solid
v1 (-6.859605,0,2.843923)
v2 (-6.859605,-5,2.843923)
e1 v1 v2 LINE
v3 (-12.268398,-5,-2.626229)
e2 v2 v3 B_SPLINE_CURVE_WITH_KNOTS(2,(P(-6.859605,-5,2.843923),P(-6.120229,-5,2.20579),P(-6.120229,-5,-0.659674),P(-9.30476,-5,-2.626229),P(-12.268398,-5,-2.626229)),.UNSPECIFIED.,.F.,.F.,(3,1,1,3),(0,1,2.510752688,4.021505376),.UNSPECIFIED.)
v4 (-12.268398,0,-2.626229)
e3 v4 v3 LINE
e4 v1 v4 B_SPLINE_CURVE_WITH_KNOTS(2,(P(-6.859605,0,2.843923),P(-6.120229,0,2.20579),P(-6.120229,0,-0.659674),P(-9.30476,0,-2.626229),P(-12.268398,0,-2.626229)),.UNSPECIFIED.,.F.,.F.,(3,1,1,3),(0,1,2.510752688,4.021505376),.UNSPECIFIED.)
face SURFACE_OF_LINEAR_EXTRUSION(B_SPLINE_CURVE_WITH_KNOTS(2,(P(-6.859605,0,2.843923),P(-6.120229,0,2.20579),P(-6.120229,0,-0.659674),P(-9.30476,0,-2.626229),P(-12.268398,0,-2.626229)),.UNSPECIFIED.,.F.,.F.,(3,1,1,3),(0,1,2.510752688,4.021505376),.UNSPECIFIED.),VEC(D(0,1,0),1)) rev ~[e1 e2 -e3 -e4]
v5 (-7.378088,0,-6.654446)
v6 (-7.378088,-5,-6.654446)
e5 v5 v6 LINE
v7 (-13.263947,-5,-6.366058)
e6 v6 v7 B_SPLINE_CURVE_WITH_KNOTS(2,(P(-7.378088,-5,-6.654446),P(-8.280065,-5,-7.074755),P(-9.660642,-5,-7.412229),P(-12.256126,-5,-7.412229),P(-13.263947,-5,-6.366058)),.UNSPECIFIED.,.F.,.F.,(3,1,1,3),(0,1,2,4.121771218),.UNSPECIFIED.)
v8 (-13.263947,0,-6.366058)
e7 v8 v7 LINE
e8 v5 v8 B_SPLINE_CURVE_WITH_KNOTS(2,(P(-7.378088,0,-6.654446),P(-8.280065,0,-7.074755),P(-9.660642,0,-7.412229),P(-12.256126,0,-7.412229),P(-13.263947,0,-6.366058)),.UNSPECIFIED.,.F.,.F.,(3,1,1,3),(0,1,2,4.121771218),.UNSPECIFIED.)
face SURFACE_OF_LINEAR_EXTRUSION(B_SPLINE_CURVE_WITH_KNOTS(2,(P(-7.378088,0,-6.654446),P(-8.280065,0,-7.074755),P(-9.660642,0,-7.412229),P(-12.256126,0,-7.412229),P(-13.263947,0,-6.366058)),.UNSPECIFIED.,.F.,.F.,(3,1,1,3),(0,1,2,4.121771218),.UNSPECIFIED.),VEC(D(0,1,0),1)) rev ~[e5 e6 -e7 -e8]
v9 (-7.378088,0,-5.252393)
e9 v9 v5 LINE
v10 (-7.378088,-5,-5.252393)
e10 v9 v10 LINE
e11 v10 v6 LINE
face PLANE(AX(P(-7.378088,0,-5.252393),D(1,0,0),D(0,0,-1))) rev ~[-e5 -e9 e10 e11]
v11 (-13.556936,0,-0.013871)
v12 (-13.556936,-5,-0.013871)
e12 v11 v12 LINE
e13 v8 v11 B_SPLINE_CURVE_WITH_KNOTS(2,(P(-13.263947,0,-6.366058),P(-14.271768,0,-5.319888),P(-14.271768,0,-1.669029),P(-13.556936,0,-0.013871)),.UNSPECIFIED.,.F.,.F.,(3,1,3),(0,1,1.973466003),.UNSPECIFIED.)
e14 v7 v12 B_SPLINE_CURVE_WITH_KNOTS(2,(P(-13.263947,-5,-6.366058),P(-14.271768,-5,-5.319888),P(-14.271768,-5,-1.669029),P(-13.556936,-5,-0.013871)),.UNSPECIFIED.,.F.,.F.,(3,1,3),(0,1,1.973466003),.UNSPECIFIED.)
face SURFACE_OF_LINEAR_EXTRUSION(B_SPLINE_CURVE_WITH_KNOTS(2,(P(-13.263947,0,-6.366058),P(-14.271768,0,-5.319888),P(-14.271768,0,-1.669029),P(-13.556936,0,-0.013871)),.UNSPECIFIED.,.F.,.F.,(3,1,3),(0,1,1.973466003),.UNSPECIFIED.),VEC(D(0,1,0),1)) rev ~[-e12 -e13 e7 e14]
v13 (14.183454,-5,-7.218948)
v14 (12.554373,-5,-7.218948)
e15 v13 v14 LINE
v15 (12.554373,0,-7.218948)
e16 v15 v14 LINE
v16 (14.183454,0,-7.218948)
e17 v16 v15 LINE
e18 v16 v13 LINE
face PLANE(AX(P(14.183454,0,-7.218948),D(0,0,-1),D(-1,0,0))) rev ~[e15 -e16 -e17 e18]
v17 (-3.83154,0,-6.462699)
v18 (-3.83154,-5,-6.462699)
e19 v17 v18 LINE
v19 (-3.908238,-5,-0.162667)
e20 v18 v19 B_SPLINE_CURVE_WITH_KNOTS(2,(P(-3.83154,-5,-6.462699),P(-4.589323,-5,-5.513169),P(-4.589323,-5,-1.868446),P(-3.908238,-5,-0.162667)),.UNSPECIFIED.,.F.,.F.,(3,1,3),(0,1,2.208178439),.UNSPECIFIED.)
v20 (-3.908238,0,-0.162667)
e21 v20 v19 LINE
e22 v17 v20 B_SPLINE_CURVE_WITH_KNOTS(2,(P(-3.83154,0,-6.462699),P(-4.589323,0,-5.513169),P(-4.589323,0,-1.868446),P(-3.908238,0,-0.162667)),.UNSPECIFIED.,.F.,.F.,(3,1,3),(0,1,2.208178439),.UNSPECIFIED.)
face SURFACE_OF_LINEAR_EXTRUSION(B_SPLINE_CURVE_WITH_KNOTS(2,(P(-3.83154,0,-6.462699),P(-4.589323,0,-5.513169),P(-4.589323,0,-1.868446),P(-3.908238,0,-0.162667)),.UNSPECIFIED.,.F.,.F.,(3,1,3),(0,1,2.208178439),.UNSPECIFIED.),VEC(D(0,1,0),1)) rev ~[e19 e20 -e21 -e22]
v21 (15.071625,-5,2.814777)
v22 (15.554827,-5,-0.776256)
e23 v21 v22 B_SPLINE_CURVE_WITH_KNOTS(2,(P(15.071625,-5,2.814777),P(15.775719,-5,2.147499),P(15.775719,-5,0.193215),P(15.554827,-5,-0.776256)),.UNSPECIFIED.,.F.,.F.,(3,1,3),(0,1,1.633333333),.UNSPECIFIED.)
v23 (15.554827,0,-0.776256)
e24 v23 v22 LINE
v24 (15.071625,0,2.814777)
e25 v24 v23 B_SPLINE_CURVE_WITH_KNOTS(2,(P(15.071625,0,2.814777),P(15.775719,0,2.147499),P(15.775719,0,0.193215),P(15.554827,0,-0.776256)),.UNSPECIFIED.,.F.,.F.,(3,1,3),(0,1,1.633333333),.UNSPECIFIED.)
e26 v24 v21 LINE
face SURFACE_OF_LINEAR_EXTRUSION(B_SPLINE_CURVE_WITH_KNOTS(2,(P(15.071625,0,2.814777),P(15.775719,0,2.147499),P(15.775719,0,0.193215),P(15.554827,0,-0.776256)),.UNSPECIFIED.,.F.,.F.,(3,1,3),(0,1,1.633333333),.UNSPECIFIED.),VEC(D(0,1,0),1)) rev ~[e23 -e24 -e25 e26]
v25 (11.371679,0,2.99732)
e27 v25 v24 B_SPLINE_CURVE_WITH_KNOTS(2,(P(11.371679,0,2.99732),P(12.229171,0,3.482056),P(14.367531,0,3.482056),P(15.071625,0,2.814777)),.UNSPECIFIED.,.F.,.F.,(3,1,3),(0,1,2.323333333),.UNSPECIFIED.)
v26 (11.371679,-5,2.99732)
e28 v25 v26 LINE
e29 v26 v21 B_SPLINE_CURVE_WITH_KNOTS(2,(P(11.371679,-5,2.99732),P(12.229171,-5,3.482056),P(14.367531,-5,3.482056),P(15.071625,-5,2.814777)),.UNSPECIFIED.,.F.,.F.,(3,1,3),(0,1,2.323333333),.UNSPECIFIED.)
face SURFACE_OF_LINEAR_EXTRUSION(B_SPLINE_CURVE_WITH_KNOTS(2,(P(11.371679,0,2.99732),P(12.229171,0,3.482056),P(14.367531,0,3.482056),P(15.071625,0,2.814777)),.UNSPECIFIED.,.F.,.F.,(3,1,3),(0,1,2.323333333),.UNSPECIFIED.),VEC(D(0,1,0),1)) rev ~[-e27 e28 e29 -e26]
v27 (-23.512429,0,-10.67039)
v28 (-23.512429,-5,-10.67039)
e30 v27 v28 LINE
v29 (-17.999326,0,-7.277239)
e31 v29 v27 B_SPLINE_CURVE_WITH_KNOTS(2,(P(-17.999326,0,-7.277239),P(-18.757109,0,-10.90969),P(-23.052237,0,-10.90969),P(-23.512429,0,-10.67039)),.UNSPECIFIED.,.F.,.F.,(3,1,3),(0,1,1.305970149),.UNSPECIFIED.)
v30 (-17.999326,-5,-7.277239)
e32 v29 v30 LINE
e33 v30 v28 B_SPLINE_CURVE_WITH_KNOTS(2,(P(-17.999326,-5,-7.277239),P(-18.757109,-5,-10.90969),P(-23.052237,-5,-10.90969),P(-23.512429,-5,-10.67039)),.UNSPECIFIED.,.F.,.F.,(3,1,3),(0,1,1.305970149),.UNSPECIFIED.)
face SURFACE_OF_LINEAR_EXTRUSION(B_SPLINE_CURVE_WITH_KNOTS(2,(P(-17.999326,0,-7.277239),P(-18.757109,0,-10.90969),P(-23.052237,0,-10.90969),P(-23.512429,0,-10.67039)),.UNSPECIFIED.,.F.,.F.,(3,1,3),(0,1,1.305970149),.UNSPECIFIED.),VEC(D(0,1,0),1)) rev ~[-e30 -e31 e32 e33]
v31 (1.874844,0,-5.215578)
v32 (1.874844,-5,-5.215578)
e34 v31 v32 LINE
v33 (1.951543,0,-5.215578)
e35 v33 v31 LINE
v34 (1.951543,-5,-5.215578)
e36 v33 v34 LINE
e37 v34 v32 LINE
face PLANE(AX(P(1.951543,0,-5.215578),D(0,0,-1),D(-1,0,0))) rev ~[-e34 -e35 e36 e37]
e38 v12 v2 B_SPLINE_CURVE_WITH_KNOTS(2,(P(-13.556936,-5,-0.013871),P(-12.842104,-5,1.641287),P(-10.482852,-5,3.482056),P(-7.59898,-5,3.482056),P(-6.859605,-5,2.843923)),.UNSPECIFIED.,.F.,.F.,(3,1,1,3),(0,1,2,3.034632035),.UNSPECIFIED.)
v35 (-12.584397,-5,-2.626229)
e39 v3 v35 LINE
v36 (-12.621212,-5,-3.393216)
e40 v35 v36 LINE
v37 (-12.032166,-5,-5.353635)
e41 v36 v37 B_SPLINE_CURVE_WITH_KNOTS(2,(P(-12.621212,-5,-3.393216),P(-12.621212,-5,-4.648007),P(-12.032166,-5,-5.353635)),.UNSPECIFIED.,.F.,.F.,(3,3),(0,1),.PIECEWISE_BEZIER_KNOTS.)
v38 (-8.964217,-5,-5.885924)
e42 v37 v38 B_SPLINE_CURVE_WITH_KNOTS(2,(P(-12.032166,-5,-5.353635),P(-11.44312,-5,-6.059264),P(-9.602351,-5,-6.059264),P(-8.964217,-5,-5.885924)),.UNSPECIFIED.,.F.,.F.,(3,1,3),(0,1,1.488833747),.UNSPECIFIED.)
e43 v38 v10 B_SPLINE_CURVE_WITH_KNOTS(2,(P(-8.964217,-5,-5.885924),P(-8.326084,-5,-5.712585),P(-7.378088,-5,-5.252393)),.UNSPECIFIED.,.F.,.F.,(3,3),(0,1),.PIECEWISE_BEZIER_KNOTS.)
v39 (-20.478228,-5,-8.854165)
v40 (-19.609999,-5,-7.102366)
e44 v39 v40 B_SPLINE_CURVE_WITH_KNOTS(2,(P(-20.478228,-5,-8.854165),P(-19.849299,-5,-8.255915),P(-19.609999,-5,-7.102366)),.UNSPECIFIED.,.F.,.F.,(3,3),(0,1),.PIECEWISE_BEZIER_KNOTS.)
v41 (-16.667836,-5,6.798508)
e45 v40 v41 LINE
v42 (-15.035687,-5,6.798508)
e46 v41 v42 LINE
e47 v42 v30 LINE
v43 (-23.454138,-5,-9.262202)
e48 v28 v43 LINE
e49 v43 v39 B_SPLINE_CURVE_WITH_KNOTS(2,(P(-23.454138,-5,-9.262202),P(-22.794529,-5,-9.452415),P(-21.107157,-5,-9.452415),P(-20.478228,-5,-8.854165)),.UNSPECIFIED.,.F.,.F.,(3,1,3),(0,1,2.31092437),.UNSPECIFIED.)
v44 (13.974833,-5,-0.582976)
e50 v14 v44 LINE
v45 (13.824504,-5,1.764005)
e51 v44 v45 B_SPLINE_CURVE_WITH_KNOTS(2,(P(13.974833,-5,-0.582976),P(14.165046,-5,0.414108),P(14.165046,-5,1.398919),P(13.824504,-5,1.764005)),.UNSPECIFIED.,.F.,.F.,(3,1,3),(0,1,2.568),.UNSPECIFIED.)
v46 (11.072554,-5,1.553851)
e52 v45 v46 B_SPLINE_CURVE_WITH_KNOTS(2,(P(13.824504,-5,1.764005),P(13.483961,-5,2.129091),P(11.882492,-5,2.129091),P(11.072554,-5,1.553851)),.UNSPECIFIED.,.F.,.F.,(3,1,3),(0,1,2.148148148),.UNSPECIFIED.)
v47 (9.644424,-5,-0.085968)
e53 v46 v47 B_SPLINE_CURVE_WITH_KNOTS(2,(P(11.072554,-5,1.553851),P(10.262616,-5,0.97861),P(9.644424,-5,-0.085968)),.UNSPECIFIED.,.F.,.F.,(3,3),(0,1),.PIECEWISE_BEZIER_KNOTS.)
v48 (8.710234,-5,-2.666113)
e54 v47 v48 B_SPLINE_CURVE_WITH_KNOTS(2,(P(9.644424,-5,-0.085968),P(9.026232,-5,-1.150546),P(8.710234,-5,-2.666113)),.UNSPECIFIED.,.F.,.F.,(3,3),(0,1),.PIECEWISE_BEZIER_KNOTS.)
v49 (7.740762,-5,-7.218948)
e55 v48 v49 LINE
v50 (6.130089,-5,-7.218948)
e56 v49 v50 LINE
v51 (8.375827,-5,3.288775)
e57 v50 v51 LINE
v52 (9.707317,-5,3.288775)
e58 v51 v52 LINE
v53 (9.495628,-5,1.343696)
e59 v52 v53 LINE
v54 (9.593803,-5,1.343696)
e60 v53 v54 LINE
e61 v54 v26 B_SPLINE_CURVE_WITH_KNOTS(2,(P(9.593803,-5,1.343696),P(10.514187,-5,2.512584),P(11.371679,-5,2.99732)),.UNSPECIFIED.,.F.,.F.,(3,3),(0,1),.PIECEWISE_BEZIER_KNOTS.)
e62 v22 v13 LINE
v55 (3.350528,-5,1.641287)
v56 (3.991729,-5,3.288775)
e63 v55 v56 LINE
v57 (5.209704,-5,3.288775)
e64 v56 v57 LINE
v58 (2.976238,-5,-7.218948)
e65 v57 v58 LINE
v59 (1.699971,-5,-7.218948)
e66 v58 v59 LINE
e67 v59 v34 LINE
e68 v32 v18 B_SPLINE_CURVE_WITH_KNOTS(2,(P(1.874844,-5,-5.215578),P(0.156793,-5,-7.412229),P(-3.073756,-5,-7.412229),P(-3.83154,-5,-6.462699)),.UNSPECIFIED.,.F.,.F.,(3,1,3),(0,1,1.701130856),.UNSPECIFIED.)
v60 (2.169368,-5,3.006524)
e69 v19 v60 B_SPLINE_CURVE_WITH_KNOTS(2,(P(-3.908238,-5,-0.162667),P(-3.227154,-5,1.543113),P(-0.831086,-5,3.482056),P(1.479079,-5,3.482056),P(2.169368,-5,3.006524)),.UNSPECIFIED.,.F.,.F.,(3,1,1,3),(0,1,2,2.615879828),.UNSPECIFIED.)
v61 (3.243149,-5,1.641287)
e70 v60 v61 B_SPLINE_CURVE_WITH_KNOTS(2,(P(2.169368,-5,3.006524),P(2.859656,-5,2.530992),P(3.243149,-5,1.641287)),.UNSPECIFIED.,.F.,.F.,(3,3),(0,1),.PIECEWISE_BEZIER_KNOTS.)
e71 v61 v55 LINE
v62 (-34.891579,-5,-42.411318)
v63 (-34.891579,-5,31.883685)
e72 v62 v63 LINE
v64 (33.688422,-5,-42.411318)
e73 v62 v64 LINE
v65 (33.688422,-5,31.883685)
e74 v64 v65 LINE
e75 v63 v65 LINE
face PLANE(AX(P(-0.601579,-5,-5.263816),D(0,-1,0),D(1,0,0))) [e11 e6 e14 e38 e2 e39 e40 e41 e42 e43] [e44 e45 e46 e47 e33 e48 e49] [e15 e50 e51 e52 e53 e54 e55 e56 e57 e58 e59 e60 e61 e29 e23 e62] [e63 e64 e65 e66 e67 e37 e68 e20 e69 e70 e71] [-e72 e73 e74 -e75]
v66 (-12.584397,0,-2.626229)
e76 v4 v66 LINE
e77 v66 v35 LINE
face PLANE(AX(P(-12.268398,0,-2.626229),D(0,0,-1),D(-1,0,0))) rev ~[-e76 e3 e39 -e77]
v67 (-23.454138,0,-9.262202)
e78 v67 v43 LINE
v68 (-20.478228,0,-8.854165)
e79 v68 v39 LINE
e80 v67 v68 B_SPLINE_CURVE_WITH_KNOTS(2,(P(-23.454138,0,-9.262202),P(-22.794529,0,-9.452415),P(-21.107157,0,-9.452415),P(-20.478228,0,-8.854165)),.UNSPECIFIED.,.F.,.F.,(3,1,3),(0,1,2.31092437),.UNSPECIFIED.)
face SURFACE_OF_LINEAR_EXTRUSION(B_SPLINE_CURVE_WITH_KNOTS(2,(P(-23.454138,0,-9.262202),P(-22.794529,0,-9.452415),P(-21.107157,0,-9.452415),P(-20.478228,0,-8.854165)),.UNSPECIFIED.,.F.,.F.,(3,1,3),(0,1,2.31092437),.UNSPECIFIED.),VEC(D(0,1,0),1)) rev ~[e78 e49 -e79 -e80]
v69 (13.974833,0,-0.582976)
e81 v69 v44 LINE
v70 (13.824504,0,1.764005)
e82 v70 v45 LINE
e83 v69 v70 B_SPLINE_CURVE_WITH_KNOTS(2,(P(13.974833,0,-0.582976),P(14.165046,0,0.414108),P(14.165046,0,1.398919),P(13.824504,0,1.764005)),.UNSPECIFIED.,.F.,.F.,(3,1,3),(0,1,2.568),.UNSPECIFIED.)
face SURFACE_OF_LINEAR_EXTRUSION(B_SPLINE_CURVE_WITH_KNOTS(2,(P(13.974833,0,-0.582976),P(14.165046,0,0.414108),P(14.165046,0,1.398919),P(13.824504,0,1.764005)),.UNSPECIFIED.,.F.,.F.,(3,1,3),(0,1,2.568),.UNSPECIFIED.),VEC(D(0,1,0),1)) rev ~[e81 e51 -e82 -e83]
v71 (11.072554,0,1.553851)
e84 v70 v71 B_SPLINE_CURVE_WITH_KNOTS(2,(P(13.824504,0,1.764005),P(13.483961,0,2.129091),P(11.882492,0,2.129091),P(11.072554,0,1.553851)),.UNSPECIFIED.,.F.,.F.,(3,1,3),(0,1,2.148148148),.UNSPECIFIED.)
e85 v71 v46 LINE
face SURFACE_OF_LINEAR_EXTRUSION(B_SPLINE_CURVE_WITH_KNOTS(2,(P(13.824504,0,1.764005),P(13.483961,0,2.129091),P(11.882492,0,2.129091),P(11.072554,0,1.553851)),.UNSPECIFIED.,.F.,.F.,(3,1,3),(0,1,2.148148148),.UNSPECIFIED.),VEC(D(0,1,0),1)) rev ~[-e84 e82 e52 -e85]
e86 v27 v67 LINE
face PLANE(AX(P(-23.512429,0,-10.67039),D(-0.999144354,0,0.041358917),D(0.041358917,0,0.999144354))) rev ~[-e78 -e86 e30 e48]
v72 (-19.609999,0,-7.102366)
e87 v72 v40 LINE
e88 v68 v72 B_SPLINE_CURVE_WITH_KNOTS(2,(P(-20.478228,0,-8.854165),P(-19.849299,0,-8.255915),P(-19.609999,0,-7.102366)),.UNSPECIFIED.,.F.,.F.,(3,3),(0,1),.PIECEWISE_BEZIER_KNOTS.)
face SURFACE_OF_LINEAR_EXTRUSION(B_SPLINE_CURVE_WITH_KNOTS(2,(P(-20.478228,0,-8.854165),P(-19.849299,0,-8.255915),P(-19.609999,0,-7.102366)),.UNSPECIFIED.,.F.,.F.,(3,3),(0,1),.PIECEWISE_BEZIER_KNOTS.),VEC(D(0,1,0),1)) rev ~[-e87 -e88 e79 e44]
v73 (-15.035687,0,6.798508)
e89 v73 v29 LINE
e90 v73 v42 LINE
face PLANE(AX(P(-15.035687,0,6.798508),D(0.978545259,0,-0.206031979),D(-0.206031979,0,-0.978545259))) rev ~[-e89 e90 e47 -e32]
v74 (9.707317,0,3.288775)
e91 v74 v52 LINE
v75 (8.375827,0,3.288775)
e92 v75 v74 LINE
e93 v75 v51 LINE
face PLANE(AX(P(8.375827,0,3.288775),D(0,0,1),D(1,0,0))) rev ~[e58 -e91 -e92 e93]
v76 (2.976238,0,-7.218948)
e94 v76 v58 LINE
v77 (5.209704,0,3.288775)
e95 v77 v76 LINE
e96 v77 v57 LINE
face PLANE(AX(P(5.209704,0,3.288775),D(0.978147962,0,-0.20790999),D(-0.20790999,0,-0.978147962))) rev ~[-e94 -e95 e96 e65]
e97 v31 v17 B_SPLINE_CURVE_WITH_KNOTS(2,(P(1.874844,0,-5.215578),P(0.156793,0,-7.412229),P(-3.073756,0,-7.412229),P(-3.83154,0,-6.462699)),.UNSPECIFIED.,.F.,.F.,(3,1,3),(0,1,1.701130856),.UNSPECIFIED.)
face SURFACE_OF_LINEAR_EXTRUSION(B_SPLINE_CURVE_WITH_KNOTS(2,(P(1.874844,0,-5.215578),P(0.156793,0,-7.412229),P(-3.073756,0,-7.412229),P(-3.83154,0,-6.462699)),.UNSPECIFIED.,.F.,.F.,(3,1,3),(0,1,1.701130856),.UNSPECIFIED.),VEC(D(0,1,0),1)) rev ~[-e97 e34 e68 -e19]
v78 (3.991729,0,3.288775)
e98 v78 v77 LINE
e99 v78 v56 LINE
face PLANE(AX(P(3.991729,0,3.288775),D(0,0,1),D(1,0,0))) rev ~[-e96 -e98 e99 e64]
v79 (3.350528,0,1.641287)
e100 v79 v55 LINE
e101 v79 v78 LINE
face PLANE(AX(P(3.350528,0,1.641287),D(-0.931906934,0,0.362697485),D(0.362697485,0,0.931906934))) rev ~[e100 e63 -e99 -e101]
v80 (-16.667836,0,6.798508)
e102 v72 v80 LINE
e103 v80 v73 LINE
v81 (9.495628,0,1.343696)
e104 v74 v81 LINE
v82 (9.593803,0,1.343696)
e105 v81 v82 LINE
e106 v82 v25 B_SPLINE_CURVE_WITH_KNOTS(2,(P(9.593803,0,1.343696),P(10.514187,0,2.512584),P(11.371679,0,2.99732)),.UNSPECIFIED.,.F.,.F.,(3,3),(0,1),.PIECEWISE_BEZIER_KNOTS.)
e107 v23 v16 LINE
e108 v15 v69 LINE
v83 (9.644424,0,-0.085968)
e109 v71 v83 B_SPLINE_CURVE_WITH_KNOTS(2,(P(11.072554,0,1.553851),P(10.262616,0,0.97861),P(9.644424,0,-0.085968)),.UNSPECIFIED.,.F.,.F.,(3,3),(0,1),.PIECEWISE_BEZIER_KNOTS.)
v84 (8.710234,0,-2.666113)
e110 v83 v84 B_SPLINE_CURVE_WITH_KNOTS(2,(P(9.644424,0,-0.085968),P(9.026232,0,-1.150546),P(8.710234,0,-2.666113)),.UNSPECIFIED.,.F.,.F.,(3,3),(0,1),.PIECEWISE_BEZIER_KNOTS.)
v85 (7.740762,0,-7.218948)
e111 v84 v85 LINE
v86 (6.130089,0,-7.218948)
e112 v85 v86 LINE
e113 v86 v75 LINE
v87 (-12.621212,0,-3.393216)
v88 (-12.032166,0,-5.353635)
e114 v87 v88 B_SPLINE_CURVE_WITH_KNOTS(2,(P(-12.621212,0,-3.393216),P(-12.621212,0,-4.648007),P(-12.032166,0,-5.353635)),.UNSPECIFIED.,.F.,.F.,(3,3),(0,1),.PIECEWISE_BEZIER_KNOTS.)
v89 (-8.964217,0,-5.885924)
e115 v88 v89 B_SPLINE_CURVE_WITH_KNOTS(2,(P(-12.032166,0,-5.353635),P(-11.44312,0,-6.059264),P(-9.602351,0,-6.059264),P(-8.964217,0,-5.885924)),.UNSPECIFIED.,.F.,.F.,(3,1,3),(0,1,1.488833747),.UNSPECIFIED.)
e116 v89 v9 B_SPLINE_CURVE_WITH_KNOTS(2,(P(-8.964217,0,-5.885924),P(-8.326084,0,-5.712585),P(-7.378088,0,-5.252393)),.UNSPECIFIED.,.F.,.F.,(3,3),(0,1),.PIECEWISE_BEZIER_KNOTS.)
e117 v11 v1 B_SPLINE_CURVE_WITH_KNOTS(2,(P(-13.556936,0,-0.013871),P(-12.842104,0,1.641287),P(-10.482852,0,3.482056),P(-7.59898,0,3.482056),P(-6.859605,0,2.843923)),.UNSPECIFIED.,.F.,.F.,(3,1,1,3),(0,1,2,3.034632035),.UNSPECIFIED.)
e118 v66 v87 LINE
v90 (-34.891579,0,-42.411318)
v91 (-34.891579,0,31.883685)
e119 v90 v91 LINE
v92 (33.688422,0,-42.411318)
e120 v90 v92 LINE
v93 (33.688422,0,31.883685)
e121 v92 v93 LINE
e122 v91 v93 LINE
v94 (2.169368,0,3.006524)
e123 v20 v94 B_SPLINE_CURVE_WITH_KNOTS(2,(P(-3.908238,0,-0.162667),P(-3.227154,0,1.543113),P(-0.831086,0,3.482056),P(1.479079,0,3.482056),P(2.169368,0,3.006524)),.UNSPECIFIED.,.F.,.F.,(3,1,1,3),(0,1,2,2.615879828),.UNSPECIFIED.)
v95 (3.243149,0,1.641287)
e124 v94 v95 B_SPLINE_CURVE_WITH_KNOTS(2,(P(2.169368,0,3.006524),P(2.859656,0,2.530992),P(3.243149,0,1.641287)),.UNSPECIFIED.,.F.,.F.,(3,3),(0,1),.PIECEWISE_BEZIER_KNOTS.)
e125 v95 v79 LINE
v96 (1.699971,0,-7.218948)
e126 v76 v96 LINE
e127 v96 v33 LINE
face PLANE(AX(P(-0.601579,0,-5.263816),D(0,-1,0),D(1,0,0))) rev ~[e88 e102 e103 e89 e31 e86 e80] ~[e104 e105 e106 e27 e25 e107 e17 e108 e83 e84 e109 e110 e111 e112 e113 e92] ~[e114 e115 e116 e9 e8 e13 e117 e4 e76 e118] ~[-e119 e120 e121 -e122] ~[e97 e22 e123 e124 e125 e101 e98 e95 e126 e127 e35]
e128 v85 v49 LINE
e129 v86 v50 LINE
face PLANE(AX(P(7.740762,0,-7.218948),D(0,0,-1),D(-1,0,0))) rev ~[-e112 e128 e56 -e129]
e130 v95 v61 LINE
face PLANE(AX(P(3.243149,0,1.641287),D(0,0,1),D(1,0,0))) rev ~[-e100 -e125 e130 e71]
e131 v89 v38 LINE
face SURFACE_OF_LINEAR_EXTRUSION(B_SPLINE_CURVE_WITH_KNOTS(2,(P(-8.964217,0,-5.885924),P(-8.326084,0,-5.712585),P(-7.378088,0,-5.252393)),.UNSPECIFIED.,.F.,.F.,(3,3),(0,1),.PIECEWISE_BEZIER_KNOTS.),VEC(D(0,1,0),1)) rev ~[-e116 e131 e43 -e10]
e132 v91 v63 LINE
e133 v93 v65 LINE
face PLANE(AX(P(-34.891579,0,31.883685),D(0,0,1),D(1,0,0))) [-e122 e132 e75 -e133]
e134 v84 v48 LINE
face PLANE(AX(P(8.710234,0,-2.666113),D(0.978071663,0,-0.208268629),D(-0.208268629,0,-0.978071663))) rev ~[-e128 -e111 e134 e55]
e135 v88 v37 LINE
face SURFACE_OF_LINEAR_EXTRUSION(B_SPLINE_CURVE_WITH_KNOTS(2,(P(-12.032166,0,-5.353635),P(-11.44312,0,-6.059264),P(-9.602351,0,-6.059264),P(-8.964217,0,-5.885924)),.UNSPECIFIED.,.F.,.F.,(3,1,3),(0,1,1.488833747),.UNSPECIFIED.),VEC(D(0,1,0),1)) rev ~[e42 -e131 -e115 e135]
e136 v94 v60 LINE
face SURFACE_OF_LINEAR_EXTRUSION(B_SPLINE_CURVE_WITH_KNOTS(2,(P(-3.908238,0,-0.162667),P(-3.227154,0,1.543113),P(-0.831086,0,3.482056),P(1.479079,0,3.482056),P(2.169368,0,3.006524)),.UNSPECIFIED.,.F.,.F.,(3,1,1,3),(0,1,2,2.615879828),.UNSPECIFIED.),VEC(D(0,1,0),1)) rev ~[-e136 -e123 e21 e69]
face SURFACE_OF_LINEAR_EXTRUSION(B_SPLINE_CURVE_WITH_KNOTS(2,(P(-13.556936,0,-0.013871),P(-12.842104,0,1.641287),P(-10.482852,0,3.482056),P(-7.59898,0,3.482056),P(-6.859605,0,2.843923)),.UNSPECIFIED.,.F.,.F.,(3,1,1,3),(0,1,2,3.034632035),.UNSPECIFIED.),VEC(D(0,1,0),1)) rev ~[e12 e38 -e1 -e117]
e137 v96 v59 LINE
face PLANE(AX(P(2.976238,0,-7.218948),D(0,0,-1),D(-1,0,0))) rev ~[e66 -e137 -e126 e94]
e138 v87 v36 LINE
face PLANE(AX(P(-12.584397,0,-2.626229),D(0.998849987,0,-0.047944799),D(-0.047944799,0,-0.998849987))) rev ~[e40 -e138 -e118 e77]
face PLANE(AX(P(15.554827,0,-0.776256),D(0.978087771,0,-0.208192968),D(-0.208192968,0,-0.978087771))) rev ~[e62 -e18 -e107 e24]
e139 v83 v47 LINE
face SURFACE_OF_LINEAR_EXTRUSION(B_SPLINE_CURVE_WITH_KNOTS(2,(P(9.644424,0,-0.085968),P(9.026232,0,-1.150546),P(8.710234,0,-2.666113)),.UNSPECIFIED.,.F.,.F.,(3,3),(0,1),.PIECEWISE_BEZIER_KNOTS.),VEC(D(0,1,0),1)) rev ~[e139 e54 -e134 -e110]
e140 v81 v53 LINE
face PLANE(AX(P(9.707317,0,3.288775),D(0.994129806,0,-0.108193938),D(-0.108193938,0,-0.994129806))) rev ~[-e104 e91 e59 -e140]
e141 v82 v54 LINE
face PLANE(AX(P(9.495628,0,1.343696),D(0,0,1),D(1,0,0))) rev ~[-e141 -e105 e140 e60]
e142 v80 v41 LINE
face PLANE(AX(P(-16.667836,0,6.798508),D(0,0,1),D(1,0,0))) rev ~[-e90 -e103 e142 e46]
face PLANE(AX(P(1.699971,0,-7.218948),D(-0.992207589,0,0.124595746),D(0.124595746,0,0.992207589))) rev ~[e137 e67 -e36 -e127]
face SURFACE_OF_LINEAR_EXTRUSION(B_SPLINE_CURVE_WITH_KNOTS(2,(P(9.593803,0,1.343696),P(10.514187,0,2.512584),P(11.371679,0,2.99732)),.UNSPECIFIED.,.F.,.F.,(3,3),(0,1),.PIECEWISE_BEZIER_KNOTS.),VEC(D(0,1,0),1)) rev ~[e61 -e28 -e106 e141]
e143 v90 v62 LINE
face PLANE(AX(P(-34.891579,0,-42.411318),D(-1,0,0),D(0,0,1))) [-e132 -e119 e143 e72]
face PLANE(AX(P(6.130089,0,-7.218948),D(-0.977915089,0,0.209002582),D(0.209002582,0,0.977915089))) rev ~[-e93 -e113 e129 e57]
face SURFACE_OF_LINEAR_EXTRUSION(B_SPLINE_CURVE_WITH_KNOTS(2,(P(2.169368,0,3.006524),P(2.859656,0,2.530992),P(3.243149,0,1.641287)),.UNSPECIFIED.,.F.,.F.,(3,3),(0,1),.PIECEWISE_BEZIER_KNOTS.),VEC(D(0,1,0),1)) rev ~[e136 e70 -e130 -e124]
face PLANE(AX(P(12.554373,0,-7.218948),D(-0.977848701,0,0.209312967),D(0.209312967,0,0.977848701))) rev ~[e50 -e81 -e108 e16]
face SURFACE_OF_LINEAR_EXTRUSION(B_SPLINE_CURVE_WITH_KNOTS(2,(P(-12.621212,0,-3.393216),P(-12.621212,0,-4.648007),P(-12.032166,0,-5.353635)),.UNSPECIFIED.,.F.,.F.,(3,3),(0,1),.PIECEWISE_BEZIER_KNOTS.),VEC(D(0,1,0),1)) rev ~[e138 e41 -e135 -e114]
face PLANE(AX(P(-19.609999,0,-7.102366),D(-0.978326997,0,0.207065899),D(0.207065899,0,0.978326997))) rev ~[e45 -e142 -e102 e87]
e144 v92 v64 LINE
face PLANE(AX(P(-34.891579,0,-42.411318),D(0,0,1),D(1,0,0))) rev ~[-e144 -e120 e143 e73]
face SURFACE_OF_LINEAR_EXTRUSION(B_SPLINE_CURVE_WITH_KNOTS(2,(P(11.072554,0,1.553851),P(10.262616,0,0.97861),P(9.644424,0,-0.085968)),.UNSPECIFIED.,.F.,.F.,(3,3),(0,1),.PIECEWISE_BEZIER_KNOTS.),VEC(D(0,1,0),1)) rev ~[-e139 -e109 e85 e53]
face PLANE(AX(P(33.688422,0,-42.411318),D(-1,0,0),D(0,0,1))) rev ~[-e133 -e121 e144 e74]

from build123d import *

# Parameters (mm, degrees)
F0_W     = 68.5800015926
F0_H     = 74.2950029671
F1_DEPTH = 5


with BuildPart() as f1:
    # F0 (on Front) → F1 (new body)
    with BuildSketch(Plane.XZ):
        with Locations((-0.6015785038, -5.2638160996)):
            Rectangle(F0_W, F0_H)
        with BuildLine():
            add(Edge.make_bspline(
                [(-17.999325617, -7.2772391204), (-18.7571088854, -10.9096900915), (-22.0459496295, -10.9096900915)],
                knots=[0, 0, 0, 1, 1, 1], degree=2))
            add(Edge.make_bspline(
                [(-22.0459496295, -10.9096900915), (-23.0522367228, -10.9096900915), (-23.5124289911, -10.670390112)],
                knots=[0, 0, 0, 1, 1, 1], degree=2))
            Line((-23.5124289911, -10.670390112), (-23.4541379705, -9.262201771))
            add(Edge.make_bspline(
                [(-23.4541379705, -9.262201771), (-22.7945290526, -9.4524145752), (-22.0643573202, -9.4524145752)],
                knots=[0, 0, 0, 1, 1, 1], degree=2))
            add(Edge.make_bspline(
                [(-22.0643573202, -9.4524145752), (-21.1071574022, -9.4524145752), (-20.4782279689, -8.8541646264)],
                knots=[0, 0, 0, 1, 1, 1], degree=2))
            add(Edge.make_bspline(
                [(-20.4782279689, -8.8541646264), (-19.8492985355, -8.2559146776), (-19.609998556, -7.1023660585)],
                knots=[0, 0, 0, 1, 1, 1], degree=2))
            Line((-19.609998556, -7.1023660585), (-16.6678359874, 6.7985083924))
            Line((-16.6678359874, 6.7985083924), (-15.0356874092, 6.7985083924))
            Line((-15.0356874092, 6.7985083924), (-17.999325617, -7.2772391204))
        make_face(mode=Mode.SUBTRACT)
        with BuildLine():
            add(Edge.make_bspline(
                [(-8.9703533131, -7.2434916874), (-9.6606417155, -7.4122288524), (-10.4920557469, -7.4122288524)],
                knots=[0, 0, 0, 1, 1, 1], degree=2))
            add(Edge.make_bspline(
                [(-10.4920557469, -7.4122288524), (-12.2561261087, -7.4122288524), (-13.2639471763, -6.3660584292)],
                knots=[0, 0, 0, 1, 1, 1], degree=2))
            add(Edge.make_bspline(
                [(-13.2639471763, -6.3660584292), (-14.2717682438, -5.3198880059), (-14.2717682438, -3.4699150874)],
                knots=[0, 0, 0, 1, 1, 1], degree=2))
            add(Edge.make_bspline(
                [(-14.2717682438, -3.4699150874), (-14.2717682438, -1.6690293442), (-13.5569362537, -0.0138711525)],
                knots=[0, 0, 0, 1, 1, 1], degree=2))
            add(Edge.make_bspline(
                [(-13.5569362537, -0.0138711525), (-12.8421042637, 1.6412870391), (-11.6624780826, 2.5616715757)],
                knots=[0, 0, 0, 1, 1, 1], degree=2))
            add(Edge.make_bspline(
                [(-11.6624780826, 2.5616715757), (-10.4828519015, 3.4820561123), (-9.0654597152, 3.4820561123)],
                knots=[0, 0, 0, 1, 1, 1], degree=2))
            add(Edge.make_bspline(
                [(-9.0654597152, 3.4820561123), (-7.5989803536, 3.4820561123), (-6.8596047759, 2.8439228336)],
                knots=[0, 0, 0, 1, 1, 1], degree=2))
            add(Edge.make_bspline(
                [(-6.8596047759, 2.8439228336), (-6.1202291981, 2.2057895549), (-6.1202291981, 1.0645127295)],
                knots=[0, 0, 0, 1, 1, 1], degree=2))
            add(Edge.make_bspline(
                [(-6.1202291981, 1.0645127295), (-6.1202291981, -0.6596743024), (-7.7124944464, -1.6429517823)],
                knots=[0, 0, 0, 1, 1, 1], degree=2))
            add(Edge.make_bspline(
                [(-7.7124944464, -1.6429517823), (-9.3047596947, -2.6262292622), (-12.2683979025, -2.6262292622)],
                knots=[0, 0, 0, 1, 1, 1], degree=2))
            Line((-12.2683979025, -2.6262292622), (-12.5843965934, -2.6262292622))
            Line((-12.5843965934, -2.6262292622), (-12.6212119749, -3.393216376))
            add(Edge.make_bspline(
                [(-12.6212119749, -3.393216376), (-12.6212119749, -4.6480072942), (-12.0321658715, -5.353635439)],
                knots=[0, 0, 0, 1, 1, 1], degree=2))
            add(Edge.make_bspline(
                [(-12.0321658715, -5.353635439), (-11.443119768, -6.0592635837), (-10.2067365406, -6.0592635837)],
                knots=[0, 0, 0, 1, 1, 1], degree=2))
            add(Edge.make_bspline(
                [(-10.2067365406, -6.0592635837), (-9.6023506949, -6.0592635837), (-8.9642174162, -5.8859244959)],
                knots=[0, 0, 0, 1, 1, 1], degree=2))
            add(Edge.make_bspline(
                [(-8.9642174162, -5.8859244959), (-8.3260841375, -5.7125854082), (-7.3780880648, -5.2523931399)],
                knots=[0, 0, 0, 1, 1, 1], degree=2))
            Line((-7.3780880648, -5.2523931399), (-7.3780880648, -6.654445584))
            add(Edge.make_bspline(
                [(-7.3780880648, -6.654445584), (-8.2800649107, -7.0747545224), (-8.9703533131, -7.2434916874)],
                knots=[0, 0, 0, 1, 1, 1], degree=2))
        make_face(mode=Mode.SUBTRACT)
        with BuildLine():
            add(Edge.make_bspline(
                [(-2.029119933, 2.5125844004), (-0.8310860612, 3.4820561123), (0.5985779189, 3.4820561123)],
                knots=[0, 0, 0, 1, 1, 1], degree=2))
            add(Edge.make_bspline(
                [(0.5985779189, 3.4820561123), (1.4790791256, 3.4820561123), (2.169367528, 3.0065241017)],
                knots=[0, 0, 0, 1, 1, 1], degree=2))
            add(Edge.make_bspline(
                [(2.169367528, 3.0065241017), (2.8596559305, 2.5309920911), (3.2431494874, 1.6412870391)],
                knots=[0, 0, 0, 1, 1, 1], degree=2))
            Line((3.2431494874, 1.6412870391), (3.3505276833, 1.6412870391))
            Line((3.3505276833, 1.6412870391), (3.9917289105, 3.2887753596))
            Line((3.9917289105, 3.2887753596), (5.2097044472, 3.2887753596))
            Line((5.2097044472, 3.2887753596), (2.9762379718, -7.2189480998))
            Line((2.9762379718, -7.2189480998), (1.6999714144, -7.2189480998))
            Line((1.6999714144, -7.2189480998), (1.9515431877, -5.2155777585))
            Line((1.9515431877, -5.2155777585), (1.8748444763, -5.2155777585))
            add(Edge.make_bspline(
                [(1.8748444763, -5.2155777585), (0.1567933414, -7.4122288524), (-1.7422667524, -7.4122288524)],
                knots=[0, 0, 0, 1, 1, 1], degree=2))
            add(Edge.make_bspline(
                [(-1.7422667524, -7.4122288524), (-3.073756382, -7.4122288524), (-3.8315396505, -6.4626988055)],
                knots=[0, 0, 0, 1, 1, 1], degree=2))
            add(Edge.make_bspline(
                [(-3.8315396505, -6.4626988055), (-4.5893229189, -5.5131687586), (-4.5893229189, -3.8626124897)],
                knots=[0, 0, 0, 1, 1, 1], degree=2))
            add(Edge.make_bspline(
                [(-4.5893229189, -3.8626124897), (-4.5893229189, -1.8684459938), (-3.9082383619, -0.1626666526)],
                knots=[0, 0, 0, 1, 1, 1], degree=2))
            add(Edge.make_bspline(
                [(-3.9082383619, -0.1626666526), (-3.2271538048, 1.5431126885), (-2.029119933, 2.5125844004)],
                knots=[0, 0, 0, 1, 1, 1], degree=2))
        make_face(mode=Mode.SUBTRACT)
        with BuildLine():
            Line((14.1834536789, -7.2189480998), (12.5543730492, -7.2189480998))
            Line((12.5543730492, -7.2189480998), (13.974833184, -0.582975591))
            add(Edge.make_bspline(
                [(13.974833184, -0.582975591), (14.1650459882, 0.414107657), (14.1650459882, 0.7976012139)],
                knots=[0, 0, 0, 1, 1, 1], degree=2))
            add(Edge.make_bspline(
                [(14.1650459882, 0.7976012139), (14.1650459882, 1.3989191111), (13.8245037097, 1.7640049773)],
                knots=[0, 0, 0, 1, 1, 1], degree=2))
            add(Edge.make_bspline(
                [(13.8245037097, 1.7640049773), (13.4839614311, 2.1290908435), (12.7384499565, 2.1290908435)],
                knots=[0, 0, 0, 1, 1, 1], degree=2))
            add(Edge.make_bspline(
                [(12.7384499565, 2.1290908435), (11.8824923375, 2.1290908435), (11.0725539453, 1.5538505081)],
                knots=[0, 0, 0, 1, 1, 1], degree=2))
            add(Edge.make_bspline(
                [(11.0725539453, 1.5538505081), (10.2626155531, 0.9786101728), (9.6444239393, -0.0859679412)],
                knots=[0, 0, 0, 1, 1, 1], degree=2))
            add(Edge.make_bspline(
                [(9.6444239393, -0.0859679412), (9.0262323256, -1.1505460552), (8.7102336347, -2.6661125921)],
                knots=[0, 0, 0, 1, 1, 1], degree=2))
            Line((8.7102336347, -2.6661125921), (7.7407619228, -7.2189480998))
            Line((7.7407619228, -7.2189480998), (6.1300889838, -7.2189480998))
            Line((6.1300889838, -7.2189480998), (8.3758272531, 3.2887753596))
            Line((8.3758272531, 3.2887753596), (9.7073168827, 3.2887753596))
            Line((9.7073168827, 3.2887753596), (9.4956284393, 1.3436960389))
            Line((9.4956284393, 1.3436960389), (9.5938027898, 1.3436960389))
            add(Edge.make_bspline(
                [(9.5938027898, 1.3436960389), (10.5141873264, 2.5125844004), (11.3716789197, 2.9973202563)],
                knots=[0, 0, 0, 1, 1, 1], degree=2))
            add(Edge.make_bspline(
                [(11.3716789197, 2.9973202563), (12.2291705129, 3.4820561123), (13.1495550495, 3.4820561123)],
                knots=[0, 0, 0, 1, 1, 1], degree=2))
            add(Edge.make_bspline(
                [(13.1495550495, 3.4820561123), (14.3675305862, 3.4820561123), (15.0716247567, 2.8147773232)],
                knots=[0, 0, 0, 1, 1, 1], degree=2))
            add(Edge.make_bspline(
                [(15.0716247567, 2.8147773232), (15.7757189272, 2.1474985342), (15.7757189272, 0.9509986367)],
                knots=[0, 0, 0, 1, 1, 1], degree=2))
            add(Edge.make_bspline(
                [(15.7757189272, 0.9509986367), (15.7757189272, 0.1932153682), (15.5548266384, -0.7762563437)],
                knots=[0, 0, 0, 1, 1, 1], degree=2))
            Line((15.5548266384, -0.7762563437), (14.1834536789, -7.2189480998))
        make_face(mode=Mode.SUBTRACT)
    extrude(amount=F1_DEPTH)


solid = f1.part
